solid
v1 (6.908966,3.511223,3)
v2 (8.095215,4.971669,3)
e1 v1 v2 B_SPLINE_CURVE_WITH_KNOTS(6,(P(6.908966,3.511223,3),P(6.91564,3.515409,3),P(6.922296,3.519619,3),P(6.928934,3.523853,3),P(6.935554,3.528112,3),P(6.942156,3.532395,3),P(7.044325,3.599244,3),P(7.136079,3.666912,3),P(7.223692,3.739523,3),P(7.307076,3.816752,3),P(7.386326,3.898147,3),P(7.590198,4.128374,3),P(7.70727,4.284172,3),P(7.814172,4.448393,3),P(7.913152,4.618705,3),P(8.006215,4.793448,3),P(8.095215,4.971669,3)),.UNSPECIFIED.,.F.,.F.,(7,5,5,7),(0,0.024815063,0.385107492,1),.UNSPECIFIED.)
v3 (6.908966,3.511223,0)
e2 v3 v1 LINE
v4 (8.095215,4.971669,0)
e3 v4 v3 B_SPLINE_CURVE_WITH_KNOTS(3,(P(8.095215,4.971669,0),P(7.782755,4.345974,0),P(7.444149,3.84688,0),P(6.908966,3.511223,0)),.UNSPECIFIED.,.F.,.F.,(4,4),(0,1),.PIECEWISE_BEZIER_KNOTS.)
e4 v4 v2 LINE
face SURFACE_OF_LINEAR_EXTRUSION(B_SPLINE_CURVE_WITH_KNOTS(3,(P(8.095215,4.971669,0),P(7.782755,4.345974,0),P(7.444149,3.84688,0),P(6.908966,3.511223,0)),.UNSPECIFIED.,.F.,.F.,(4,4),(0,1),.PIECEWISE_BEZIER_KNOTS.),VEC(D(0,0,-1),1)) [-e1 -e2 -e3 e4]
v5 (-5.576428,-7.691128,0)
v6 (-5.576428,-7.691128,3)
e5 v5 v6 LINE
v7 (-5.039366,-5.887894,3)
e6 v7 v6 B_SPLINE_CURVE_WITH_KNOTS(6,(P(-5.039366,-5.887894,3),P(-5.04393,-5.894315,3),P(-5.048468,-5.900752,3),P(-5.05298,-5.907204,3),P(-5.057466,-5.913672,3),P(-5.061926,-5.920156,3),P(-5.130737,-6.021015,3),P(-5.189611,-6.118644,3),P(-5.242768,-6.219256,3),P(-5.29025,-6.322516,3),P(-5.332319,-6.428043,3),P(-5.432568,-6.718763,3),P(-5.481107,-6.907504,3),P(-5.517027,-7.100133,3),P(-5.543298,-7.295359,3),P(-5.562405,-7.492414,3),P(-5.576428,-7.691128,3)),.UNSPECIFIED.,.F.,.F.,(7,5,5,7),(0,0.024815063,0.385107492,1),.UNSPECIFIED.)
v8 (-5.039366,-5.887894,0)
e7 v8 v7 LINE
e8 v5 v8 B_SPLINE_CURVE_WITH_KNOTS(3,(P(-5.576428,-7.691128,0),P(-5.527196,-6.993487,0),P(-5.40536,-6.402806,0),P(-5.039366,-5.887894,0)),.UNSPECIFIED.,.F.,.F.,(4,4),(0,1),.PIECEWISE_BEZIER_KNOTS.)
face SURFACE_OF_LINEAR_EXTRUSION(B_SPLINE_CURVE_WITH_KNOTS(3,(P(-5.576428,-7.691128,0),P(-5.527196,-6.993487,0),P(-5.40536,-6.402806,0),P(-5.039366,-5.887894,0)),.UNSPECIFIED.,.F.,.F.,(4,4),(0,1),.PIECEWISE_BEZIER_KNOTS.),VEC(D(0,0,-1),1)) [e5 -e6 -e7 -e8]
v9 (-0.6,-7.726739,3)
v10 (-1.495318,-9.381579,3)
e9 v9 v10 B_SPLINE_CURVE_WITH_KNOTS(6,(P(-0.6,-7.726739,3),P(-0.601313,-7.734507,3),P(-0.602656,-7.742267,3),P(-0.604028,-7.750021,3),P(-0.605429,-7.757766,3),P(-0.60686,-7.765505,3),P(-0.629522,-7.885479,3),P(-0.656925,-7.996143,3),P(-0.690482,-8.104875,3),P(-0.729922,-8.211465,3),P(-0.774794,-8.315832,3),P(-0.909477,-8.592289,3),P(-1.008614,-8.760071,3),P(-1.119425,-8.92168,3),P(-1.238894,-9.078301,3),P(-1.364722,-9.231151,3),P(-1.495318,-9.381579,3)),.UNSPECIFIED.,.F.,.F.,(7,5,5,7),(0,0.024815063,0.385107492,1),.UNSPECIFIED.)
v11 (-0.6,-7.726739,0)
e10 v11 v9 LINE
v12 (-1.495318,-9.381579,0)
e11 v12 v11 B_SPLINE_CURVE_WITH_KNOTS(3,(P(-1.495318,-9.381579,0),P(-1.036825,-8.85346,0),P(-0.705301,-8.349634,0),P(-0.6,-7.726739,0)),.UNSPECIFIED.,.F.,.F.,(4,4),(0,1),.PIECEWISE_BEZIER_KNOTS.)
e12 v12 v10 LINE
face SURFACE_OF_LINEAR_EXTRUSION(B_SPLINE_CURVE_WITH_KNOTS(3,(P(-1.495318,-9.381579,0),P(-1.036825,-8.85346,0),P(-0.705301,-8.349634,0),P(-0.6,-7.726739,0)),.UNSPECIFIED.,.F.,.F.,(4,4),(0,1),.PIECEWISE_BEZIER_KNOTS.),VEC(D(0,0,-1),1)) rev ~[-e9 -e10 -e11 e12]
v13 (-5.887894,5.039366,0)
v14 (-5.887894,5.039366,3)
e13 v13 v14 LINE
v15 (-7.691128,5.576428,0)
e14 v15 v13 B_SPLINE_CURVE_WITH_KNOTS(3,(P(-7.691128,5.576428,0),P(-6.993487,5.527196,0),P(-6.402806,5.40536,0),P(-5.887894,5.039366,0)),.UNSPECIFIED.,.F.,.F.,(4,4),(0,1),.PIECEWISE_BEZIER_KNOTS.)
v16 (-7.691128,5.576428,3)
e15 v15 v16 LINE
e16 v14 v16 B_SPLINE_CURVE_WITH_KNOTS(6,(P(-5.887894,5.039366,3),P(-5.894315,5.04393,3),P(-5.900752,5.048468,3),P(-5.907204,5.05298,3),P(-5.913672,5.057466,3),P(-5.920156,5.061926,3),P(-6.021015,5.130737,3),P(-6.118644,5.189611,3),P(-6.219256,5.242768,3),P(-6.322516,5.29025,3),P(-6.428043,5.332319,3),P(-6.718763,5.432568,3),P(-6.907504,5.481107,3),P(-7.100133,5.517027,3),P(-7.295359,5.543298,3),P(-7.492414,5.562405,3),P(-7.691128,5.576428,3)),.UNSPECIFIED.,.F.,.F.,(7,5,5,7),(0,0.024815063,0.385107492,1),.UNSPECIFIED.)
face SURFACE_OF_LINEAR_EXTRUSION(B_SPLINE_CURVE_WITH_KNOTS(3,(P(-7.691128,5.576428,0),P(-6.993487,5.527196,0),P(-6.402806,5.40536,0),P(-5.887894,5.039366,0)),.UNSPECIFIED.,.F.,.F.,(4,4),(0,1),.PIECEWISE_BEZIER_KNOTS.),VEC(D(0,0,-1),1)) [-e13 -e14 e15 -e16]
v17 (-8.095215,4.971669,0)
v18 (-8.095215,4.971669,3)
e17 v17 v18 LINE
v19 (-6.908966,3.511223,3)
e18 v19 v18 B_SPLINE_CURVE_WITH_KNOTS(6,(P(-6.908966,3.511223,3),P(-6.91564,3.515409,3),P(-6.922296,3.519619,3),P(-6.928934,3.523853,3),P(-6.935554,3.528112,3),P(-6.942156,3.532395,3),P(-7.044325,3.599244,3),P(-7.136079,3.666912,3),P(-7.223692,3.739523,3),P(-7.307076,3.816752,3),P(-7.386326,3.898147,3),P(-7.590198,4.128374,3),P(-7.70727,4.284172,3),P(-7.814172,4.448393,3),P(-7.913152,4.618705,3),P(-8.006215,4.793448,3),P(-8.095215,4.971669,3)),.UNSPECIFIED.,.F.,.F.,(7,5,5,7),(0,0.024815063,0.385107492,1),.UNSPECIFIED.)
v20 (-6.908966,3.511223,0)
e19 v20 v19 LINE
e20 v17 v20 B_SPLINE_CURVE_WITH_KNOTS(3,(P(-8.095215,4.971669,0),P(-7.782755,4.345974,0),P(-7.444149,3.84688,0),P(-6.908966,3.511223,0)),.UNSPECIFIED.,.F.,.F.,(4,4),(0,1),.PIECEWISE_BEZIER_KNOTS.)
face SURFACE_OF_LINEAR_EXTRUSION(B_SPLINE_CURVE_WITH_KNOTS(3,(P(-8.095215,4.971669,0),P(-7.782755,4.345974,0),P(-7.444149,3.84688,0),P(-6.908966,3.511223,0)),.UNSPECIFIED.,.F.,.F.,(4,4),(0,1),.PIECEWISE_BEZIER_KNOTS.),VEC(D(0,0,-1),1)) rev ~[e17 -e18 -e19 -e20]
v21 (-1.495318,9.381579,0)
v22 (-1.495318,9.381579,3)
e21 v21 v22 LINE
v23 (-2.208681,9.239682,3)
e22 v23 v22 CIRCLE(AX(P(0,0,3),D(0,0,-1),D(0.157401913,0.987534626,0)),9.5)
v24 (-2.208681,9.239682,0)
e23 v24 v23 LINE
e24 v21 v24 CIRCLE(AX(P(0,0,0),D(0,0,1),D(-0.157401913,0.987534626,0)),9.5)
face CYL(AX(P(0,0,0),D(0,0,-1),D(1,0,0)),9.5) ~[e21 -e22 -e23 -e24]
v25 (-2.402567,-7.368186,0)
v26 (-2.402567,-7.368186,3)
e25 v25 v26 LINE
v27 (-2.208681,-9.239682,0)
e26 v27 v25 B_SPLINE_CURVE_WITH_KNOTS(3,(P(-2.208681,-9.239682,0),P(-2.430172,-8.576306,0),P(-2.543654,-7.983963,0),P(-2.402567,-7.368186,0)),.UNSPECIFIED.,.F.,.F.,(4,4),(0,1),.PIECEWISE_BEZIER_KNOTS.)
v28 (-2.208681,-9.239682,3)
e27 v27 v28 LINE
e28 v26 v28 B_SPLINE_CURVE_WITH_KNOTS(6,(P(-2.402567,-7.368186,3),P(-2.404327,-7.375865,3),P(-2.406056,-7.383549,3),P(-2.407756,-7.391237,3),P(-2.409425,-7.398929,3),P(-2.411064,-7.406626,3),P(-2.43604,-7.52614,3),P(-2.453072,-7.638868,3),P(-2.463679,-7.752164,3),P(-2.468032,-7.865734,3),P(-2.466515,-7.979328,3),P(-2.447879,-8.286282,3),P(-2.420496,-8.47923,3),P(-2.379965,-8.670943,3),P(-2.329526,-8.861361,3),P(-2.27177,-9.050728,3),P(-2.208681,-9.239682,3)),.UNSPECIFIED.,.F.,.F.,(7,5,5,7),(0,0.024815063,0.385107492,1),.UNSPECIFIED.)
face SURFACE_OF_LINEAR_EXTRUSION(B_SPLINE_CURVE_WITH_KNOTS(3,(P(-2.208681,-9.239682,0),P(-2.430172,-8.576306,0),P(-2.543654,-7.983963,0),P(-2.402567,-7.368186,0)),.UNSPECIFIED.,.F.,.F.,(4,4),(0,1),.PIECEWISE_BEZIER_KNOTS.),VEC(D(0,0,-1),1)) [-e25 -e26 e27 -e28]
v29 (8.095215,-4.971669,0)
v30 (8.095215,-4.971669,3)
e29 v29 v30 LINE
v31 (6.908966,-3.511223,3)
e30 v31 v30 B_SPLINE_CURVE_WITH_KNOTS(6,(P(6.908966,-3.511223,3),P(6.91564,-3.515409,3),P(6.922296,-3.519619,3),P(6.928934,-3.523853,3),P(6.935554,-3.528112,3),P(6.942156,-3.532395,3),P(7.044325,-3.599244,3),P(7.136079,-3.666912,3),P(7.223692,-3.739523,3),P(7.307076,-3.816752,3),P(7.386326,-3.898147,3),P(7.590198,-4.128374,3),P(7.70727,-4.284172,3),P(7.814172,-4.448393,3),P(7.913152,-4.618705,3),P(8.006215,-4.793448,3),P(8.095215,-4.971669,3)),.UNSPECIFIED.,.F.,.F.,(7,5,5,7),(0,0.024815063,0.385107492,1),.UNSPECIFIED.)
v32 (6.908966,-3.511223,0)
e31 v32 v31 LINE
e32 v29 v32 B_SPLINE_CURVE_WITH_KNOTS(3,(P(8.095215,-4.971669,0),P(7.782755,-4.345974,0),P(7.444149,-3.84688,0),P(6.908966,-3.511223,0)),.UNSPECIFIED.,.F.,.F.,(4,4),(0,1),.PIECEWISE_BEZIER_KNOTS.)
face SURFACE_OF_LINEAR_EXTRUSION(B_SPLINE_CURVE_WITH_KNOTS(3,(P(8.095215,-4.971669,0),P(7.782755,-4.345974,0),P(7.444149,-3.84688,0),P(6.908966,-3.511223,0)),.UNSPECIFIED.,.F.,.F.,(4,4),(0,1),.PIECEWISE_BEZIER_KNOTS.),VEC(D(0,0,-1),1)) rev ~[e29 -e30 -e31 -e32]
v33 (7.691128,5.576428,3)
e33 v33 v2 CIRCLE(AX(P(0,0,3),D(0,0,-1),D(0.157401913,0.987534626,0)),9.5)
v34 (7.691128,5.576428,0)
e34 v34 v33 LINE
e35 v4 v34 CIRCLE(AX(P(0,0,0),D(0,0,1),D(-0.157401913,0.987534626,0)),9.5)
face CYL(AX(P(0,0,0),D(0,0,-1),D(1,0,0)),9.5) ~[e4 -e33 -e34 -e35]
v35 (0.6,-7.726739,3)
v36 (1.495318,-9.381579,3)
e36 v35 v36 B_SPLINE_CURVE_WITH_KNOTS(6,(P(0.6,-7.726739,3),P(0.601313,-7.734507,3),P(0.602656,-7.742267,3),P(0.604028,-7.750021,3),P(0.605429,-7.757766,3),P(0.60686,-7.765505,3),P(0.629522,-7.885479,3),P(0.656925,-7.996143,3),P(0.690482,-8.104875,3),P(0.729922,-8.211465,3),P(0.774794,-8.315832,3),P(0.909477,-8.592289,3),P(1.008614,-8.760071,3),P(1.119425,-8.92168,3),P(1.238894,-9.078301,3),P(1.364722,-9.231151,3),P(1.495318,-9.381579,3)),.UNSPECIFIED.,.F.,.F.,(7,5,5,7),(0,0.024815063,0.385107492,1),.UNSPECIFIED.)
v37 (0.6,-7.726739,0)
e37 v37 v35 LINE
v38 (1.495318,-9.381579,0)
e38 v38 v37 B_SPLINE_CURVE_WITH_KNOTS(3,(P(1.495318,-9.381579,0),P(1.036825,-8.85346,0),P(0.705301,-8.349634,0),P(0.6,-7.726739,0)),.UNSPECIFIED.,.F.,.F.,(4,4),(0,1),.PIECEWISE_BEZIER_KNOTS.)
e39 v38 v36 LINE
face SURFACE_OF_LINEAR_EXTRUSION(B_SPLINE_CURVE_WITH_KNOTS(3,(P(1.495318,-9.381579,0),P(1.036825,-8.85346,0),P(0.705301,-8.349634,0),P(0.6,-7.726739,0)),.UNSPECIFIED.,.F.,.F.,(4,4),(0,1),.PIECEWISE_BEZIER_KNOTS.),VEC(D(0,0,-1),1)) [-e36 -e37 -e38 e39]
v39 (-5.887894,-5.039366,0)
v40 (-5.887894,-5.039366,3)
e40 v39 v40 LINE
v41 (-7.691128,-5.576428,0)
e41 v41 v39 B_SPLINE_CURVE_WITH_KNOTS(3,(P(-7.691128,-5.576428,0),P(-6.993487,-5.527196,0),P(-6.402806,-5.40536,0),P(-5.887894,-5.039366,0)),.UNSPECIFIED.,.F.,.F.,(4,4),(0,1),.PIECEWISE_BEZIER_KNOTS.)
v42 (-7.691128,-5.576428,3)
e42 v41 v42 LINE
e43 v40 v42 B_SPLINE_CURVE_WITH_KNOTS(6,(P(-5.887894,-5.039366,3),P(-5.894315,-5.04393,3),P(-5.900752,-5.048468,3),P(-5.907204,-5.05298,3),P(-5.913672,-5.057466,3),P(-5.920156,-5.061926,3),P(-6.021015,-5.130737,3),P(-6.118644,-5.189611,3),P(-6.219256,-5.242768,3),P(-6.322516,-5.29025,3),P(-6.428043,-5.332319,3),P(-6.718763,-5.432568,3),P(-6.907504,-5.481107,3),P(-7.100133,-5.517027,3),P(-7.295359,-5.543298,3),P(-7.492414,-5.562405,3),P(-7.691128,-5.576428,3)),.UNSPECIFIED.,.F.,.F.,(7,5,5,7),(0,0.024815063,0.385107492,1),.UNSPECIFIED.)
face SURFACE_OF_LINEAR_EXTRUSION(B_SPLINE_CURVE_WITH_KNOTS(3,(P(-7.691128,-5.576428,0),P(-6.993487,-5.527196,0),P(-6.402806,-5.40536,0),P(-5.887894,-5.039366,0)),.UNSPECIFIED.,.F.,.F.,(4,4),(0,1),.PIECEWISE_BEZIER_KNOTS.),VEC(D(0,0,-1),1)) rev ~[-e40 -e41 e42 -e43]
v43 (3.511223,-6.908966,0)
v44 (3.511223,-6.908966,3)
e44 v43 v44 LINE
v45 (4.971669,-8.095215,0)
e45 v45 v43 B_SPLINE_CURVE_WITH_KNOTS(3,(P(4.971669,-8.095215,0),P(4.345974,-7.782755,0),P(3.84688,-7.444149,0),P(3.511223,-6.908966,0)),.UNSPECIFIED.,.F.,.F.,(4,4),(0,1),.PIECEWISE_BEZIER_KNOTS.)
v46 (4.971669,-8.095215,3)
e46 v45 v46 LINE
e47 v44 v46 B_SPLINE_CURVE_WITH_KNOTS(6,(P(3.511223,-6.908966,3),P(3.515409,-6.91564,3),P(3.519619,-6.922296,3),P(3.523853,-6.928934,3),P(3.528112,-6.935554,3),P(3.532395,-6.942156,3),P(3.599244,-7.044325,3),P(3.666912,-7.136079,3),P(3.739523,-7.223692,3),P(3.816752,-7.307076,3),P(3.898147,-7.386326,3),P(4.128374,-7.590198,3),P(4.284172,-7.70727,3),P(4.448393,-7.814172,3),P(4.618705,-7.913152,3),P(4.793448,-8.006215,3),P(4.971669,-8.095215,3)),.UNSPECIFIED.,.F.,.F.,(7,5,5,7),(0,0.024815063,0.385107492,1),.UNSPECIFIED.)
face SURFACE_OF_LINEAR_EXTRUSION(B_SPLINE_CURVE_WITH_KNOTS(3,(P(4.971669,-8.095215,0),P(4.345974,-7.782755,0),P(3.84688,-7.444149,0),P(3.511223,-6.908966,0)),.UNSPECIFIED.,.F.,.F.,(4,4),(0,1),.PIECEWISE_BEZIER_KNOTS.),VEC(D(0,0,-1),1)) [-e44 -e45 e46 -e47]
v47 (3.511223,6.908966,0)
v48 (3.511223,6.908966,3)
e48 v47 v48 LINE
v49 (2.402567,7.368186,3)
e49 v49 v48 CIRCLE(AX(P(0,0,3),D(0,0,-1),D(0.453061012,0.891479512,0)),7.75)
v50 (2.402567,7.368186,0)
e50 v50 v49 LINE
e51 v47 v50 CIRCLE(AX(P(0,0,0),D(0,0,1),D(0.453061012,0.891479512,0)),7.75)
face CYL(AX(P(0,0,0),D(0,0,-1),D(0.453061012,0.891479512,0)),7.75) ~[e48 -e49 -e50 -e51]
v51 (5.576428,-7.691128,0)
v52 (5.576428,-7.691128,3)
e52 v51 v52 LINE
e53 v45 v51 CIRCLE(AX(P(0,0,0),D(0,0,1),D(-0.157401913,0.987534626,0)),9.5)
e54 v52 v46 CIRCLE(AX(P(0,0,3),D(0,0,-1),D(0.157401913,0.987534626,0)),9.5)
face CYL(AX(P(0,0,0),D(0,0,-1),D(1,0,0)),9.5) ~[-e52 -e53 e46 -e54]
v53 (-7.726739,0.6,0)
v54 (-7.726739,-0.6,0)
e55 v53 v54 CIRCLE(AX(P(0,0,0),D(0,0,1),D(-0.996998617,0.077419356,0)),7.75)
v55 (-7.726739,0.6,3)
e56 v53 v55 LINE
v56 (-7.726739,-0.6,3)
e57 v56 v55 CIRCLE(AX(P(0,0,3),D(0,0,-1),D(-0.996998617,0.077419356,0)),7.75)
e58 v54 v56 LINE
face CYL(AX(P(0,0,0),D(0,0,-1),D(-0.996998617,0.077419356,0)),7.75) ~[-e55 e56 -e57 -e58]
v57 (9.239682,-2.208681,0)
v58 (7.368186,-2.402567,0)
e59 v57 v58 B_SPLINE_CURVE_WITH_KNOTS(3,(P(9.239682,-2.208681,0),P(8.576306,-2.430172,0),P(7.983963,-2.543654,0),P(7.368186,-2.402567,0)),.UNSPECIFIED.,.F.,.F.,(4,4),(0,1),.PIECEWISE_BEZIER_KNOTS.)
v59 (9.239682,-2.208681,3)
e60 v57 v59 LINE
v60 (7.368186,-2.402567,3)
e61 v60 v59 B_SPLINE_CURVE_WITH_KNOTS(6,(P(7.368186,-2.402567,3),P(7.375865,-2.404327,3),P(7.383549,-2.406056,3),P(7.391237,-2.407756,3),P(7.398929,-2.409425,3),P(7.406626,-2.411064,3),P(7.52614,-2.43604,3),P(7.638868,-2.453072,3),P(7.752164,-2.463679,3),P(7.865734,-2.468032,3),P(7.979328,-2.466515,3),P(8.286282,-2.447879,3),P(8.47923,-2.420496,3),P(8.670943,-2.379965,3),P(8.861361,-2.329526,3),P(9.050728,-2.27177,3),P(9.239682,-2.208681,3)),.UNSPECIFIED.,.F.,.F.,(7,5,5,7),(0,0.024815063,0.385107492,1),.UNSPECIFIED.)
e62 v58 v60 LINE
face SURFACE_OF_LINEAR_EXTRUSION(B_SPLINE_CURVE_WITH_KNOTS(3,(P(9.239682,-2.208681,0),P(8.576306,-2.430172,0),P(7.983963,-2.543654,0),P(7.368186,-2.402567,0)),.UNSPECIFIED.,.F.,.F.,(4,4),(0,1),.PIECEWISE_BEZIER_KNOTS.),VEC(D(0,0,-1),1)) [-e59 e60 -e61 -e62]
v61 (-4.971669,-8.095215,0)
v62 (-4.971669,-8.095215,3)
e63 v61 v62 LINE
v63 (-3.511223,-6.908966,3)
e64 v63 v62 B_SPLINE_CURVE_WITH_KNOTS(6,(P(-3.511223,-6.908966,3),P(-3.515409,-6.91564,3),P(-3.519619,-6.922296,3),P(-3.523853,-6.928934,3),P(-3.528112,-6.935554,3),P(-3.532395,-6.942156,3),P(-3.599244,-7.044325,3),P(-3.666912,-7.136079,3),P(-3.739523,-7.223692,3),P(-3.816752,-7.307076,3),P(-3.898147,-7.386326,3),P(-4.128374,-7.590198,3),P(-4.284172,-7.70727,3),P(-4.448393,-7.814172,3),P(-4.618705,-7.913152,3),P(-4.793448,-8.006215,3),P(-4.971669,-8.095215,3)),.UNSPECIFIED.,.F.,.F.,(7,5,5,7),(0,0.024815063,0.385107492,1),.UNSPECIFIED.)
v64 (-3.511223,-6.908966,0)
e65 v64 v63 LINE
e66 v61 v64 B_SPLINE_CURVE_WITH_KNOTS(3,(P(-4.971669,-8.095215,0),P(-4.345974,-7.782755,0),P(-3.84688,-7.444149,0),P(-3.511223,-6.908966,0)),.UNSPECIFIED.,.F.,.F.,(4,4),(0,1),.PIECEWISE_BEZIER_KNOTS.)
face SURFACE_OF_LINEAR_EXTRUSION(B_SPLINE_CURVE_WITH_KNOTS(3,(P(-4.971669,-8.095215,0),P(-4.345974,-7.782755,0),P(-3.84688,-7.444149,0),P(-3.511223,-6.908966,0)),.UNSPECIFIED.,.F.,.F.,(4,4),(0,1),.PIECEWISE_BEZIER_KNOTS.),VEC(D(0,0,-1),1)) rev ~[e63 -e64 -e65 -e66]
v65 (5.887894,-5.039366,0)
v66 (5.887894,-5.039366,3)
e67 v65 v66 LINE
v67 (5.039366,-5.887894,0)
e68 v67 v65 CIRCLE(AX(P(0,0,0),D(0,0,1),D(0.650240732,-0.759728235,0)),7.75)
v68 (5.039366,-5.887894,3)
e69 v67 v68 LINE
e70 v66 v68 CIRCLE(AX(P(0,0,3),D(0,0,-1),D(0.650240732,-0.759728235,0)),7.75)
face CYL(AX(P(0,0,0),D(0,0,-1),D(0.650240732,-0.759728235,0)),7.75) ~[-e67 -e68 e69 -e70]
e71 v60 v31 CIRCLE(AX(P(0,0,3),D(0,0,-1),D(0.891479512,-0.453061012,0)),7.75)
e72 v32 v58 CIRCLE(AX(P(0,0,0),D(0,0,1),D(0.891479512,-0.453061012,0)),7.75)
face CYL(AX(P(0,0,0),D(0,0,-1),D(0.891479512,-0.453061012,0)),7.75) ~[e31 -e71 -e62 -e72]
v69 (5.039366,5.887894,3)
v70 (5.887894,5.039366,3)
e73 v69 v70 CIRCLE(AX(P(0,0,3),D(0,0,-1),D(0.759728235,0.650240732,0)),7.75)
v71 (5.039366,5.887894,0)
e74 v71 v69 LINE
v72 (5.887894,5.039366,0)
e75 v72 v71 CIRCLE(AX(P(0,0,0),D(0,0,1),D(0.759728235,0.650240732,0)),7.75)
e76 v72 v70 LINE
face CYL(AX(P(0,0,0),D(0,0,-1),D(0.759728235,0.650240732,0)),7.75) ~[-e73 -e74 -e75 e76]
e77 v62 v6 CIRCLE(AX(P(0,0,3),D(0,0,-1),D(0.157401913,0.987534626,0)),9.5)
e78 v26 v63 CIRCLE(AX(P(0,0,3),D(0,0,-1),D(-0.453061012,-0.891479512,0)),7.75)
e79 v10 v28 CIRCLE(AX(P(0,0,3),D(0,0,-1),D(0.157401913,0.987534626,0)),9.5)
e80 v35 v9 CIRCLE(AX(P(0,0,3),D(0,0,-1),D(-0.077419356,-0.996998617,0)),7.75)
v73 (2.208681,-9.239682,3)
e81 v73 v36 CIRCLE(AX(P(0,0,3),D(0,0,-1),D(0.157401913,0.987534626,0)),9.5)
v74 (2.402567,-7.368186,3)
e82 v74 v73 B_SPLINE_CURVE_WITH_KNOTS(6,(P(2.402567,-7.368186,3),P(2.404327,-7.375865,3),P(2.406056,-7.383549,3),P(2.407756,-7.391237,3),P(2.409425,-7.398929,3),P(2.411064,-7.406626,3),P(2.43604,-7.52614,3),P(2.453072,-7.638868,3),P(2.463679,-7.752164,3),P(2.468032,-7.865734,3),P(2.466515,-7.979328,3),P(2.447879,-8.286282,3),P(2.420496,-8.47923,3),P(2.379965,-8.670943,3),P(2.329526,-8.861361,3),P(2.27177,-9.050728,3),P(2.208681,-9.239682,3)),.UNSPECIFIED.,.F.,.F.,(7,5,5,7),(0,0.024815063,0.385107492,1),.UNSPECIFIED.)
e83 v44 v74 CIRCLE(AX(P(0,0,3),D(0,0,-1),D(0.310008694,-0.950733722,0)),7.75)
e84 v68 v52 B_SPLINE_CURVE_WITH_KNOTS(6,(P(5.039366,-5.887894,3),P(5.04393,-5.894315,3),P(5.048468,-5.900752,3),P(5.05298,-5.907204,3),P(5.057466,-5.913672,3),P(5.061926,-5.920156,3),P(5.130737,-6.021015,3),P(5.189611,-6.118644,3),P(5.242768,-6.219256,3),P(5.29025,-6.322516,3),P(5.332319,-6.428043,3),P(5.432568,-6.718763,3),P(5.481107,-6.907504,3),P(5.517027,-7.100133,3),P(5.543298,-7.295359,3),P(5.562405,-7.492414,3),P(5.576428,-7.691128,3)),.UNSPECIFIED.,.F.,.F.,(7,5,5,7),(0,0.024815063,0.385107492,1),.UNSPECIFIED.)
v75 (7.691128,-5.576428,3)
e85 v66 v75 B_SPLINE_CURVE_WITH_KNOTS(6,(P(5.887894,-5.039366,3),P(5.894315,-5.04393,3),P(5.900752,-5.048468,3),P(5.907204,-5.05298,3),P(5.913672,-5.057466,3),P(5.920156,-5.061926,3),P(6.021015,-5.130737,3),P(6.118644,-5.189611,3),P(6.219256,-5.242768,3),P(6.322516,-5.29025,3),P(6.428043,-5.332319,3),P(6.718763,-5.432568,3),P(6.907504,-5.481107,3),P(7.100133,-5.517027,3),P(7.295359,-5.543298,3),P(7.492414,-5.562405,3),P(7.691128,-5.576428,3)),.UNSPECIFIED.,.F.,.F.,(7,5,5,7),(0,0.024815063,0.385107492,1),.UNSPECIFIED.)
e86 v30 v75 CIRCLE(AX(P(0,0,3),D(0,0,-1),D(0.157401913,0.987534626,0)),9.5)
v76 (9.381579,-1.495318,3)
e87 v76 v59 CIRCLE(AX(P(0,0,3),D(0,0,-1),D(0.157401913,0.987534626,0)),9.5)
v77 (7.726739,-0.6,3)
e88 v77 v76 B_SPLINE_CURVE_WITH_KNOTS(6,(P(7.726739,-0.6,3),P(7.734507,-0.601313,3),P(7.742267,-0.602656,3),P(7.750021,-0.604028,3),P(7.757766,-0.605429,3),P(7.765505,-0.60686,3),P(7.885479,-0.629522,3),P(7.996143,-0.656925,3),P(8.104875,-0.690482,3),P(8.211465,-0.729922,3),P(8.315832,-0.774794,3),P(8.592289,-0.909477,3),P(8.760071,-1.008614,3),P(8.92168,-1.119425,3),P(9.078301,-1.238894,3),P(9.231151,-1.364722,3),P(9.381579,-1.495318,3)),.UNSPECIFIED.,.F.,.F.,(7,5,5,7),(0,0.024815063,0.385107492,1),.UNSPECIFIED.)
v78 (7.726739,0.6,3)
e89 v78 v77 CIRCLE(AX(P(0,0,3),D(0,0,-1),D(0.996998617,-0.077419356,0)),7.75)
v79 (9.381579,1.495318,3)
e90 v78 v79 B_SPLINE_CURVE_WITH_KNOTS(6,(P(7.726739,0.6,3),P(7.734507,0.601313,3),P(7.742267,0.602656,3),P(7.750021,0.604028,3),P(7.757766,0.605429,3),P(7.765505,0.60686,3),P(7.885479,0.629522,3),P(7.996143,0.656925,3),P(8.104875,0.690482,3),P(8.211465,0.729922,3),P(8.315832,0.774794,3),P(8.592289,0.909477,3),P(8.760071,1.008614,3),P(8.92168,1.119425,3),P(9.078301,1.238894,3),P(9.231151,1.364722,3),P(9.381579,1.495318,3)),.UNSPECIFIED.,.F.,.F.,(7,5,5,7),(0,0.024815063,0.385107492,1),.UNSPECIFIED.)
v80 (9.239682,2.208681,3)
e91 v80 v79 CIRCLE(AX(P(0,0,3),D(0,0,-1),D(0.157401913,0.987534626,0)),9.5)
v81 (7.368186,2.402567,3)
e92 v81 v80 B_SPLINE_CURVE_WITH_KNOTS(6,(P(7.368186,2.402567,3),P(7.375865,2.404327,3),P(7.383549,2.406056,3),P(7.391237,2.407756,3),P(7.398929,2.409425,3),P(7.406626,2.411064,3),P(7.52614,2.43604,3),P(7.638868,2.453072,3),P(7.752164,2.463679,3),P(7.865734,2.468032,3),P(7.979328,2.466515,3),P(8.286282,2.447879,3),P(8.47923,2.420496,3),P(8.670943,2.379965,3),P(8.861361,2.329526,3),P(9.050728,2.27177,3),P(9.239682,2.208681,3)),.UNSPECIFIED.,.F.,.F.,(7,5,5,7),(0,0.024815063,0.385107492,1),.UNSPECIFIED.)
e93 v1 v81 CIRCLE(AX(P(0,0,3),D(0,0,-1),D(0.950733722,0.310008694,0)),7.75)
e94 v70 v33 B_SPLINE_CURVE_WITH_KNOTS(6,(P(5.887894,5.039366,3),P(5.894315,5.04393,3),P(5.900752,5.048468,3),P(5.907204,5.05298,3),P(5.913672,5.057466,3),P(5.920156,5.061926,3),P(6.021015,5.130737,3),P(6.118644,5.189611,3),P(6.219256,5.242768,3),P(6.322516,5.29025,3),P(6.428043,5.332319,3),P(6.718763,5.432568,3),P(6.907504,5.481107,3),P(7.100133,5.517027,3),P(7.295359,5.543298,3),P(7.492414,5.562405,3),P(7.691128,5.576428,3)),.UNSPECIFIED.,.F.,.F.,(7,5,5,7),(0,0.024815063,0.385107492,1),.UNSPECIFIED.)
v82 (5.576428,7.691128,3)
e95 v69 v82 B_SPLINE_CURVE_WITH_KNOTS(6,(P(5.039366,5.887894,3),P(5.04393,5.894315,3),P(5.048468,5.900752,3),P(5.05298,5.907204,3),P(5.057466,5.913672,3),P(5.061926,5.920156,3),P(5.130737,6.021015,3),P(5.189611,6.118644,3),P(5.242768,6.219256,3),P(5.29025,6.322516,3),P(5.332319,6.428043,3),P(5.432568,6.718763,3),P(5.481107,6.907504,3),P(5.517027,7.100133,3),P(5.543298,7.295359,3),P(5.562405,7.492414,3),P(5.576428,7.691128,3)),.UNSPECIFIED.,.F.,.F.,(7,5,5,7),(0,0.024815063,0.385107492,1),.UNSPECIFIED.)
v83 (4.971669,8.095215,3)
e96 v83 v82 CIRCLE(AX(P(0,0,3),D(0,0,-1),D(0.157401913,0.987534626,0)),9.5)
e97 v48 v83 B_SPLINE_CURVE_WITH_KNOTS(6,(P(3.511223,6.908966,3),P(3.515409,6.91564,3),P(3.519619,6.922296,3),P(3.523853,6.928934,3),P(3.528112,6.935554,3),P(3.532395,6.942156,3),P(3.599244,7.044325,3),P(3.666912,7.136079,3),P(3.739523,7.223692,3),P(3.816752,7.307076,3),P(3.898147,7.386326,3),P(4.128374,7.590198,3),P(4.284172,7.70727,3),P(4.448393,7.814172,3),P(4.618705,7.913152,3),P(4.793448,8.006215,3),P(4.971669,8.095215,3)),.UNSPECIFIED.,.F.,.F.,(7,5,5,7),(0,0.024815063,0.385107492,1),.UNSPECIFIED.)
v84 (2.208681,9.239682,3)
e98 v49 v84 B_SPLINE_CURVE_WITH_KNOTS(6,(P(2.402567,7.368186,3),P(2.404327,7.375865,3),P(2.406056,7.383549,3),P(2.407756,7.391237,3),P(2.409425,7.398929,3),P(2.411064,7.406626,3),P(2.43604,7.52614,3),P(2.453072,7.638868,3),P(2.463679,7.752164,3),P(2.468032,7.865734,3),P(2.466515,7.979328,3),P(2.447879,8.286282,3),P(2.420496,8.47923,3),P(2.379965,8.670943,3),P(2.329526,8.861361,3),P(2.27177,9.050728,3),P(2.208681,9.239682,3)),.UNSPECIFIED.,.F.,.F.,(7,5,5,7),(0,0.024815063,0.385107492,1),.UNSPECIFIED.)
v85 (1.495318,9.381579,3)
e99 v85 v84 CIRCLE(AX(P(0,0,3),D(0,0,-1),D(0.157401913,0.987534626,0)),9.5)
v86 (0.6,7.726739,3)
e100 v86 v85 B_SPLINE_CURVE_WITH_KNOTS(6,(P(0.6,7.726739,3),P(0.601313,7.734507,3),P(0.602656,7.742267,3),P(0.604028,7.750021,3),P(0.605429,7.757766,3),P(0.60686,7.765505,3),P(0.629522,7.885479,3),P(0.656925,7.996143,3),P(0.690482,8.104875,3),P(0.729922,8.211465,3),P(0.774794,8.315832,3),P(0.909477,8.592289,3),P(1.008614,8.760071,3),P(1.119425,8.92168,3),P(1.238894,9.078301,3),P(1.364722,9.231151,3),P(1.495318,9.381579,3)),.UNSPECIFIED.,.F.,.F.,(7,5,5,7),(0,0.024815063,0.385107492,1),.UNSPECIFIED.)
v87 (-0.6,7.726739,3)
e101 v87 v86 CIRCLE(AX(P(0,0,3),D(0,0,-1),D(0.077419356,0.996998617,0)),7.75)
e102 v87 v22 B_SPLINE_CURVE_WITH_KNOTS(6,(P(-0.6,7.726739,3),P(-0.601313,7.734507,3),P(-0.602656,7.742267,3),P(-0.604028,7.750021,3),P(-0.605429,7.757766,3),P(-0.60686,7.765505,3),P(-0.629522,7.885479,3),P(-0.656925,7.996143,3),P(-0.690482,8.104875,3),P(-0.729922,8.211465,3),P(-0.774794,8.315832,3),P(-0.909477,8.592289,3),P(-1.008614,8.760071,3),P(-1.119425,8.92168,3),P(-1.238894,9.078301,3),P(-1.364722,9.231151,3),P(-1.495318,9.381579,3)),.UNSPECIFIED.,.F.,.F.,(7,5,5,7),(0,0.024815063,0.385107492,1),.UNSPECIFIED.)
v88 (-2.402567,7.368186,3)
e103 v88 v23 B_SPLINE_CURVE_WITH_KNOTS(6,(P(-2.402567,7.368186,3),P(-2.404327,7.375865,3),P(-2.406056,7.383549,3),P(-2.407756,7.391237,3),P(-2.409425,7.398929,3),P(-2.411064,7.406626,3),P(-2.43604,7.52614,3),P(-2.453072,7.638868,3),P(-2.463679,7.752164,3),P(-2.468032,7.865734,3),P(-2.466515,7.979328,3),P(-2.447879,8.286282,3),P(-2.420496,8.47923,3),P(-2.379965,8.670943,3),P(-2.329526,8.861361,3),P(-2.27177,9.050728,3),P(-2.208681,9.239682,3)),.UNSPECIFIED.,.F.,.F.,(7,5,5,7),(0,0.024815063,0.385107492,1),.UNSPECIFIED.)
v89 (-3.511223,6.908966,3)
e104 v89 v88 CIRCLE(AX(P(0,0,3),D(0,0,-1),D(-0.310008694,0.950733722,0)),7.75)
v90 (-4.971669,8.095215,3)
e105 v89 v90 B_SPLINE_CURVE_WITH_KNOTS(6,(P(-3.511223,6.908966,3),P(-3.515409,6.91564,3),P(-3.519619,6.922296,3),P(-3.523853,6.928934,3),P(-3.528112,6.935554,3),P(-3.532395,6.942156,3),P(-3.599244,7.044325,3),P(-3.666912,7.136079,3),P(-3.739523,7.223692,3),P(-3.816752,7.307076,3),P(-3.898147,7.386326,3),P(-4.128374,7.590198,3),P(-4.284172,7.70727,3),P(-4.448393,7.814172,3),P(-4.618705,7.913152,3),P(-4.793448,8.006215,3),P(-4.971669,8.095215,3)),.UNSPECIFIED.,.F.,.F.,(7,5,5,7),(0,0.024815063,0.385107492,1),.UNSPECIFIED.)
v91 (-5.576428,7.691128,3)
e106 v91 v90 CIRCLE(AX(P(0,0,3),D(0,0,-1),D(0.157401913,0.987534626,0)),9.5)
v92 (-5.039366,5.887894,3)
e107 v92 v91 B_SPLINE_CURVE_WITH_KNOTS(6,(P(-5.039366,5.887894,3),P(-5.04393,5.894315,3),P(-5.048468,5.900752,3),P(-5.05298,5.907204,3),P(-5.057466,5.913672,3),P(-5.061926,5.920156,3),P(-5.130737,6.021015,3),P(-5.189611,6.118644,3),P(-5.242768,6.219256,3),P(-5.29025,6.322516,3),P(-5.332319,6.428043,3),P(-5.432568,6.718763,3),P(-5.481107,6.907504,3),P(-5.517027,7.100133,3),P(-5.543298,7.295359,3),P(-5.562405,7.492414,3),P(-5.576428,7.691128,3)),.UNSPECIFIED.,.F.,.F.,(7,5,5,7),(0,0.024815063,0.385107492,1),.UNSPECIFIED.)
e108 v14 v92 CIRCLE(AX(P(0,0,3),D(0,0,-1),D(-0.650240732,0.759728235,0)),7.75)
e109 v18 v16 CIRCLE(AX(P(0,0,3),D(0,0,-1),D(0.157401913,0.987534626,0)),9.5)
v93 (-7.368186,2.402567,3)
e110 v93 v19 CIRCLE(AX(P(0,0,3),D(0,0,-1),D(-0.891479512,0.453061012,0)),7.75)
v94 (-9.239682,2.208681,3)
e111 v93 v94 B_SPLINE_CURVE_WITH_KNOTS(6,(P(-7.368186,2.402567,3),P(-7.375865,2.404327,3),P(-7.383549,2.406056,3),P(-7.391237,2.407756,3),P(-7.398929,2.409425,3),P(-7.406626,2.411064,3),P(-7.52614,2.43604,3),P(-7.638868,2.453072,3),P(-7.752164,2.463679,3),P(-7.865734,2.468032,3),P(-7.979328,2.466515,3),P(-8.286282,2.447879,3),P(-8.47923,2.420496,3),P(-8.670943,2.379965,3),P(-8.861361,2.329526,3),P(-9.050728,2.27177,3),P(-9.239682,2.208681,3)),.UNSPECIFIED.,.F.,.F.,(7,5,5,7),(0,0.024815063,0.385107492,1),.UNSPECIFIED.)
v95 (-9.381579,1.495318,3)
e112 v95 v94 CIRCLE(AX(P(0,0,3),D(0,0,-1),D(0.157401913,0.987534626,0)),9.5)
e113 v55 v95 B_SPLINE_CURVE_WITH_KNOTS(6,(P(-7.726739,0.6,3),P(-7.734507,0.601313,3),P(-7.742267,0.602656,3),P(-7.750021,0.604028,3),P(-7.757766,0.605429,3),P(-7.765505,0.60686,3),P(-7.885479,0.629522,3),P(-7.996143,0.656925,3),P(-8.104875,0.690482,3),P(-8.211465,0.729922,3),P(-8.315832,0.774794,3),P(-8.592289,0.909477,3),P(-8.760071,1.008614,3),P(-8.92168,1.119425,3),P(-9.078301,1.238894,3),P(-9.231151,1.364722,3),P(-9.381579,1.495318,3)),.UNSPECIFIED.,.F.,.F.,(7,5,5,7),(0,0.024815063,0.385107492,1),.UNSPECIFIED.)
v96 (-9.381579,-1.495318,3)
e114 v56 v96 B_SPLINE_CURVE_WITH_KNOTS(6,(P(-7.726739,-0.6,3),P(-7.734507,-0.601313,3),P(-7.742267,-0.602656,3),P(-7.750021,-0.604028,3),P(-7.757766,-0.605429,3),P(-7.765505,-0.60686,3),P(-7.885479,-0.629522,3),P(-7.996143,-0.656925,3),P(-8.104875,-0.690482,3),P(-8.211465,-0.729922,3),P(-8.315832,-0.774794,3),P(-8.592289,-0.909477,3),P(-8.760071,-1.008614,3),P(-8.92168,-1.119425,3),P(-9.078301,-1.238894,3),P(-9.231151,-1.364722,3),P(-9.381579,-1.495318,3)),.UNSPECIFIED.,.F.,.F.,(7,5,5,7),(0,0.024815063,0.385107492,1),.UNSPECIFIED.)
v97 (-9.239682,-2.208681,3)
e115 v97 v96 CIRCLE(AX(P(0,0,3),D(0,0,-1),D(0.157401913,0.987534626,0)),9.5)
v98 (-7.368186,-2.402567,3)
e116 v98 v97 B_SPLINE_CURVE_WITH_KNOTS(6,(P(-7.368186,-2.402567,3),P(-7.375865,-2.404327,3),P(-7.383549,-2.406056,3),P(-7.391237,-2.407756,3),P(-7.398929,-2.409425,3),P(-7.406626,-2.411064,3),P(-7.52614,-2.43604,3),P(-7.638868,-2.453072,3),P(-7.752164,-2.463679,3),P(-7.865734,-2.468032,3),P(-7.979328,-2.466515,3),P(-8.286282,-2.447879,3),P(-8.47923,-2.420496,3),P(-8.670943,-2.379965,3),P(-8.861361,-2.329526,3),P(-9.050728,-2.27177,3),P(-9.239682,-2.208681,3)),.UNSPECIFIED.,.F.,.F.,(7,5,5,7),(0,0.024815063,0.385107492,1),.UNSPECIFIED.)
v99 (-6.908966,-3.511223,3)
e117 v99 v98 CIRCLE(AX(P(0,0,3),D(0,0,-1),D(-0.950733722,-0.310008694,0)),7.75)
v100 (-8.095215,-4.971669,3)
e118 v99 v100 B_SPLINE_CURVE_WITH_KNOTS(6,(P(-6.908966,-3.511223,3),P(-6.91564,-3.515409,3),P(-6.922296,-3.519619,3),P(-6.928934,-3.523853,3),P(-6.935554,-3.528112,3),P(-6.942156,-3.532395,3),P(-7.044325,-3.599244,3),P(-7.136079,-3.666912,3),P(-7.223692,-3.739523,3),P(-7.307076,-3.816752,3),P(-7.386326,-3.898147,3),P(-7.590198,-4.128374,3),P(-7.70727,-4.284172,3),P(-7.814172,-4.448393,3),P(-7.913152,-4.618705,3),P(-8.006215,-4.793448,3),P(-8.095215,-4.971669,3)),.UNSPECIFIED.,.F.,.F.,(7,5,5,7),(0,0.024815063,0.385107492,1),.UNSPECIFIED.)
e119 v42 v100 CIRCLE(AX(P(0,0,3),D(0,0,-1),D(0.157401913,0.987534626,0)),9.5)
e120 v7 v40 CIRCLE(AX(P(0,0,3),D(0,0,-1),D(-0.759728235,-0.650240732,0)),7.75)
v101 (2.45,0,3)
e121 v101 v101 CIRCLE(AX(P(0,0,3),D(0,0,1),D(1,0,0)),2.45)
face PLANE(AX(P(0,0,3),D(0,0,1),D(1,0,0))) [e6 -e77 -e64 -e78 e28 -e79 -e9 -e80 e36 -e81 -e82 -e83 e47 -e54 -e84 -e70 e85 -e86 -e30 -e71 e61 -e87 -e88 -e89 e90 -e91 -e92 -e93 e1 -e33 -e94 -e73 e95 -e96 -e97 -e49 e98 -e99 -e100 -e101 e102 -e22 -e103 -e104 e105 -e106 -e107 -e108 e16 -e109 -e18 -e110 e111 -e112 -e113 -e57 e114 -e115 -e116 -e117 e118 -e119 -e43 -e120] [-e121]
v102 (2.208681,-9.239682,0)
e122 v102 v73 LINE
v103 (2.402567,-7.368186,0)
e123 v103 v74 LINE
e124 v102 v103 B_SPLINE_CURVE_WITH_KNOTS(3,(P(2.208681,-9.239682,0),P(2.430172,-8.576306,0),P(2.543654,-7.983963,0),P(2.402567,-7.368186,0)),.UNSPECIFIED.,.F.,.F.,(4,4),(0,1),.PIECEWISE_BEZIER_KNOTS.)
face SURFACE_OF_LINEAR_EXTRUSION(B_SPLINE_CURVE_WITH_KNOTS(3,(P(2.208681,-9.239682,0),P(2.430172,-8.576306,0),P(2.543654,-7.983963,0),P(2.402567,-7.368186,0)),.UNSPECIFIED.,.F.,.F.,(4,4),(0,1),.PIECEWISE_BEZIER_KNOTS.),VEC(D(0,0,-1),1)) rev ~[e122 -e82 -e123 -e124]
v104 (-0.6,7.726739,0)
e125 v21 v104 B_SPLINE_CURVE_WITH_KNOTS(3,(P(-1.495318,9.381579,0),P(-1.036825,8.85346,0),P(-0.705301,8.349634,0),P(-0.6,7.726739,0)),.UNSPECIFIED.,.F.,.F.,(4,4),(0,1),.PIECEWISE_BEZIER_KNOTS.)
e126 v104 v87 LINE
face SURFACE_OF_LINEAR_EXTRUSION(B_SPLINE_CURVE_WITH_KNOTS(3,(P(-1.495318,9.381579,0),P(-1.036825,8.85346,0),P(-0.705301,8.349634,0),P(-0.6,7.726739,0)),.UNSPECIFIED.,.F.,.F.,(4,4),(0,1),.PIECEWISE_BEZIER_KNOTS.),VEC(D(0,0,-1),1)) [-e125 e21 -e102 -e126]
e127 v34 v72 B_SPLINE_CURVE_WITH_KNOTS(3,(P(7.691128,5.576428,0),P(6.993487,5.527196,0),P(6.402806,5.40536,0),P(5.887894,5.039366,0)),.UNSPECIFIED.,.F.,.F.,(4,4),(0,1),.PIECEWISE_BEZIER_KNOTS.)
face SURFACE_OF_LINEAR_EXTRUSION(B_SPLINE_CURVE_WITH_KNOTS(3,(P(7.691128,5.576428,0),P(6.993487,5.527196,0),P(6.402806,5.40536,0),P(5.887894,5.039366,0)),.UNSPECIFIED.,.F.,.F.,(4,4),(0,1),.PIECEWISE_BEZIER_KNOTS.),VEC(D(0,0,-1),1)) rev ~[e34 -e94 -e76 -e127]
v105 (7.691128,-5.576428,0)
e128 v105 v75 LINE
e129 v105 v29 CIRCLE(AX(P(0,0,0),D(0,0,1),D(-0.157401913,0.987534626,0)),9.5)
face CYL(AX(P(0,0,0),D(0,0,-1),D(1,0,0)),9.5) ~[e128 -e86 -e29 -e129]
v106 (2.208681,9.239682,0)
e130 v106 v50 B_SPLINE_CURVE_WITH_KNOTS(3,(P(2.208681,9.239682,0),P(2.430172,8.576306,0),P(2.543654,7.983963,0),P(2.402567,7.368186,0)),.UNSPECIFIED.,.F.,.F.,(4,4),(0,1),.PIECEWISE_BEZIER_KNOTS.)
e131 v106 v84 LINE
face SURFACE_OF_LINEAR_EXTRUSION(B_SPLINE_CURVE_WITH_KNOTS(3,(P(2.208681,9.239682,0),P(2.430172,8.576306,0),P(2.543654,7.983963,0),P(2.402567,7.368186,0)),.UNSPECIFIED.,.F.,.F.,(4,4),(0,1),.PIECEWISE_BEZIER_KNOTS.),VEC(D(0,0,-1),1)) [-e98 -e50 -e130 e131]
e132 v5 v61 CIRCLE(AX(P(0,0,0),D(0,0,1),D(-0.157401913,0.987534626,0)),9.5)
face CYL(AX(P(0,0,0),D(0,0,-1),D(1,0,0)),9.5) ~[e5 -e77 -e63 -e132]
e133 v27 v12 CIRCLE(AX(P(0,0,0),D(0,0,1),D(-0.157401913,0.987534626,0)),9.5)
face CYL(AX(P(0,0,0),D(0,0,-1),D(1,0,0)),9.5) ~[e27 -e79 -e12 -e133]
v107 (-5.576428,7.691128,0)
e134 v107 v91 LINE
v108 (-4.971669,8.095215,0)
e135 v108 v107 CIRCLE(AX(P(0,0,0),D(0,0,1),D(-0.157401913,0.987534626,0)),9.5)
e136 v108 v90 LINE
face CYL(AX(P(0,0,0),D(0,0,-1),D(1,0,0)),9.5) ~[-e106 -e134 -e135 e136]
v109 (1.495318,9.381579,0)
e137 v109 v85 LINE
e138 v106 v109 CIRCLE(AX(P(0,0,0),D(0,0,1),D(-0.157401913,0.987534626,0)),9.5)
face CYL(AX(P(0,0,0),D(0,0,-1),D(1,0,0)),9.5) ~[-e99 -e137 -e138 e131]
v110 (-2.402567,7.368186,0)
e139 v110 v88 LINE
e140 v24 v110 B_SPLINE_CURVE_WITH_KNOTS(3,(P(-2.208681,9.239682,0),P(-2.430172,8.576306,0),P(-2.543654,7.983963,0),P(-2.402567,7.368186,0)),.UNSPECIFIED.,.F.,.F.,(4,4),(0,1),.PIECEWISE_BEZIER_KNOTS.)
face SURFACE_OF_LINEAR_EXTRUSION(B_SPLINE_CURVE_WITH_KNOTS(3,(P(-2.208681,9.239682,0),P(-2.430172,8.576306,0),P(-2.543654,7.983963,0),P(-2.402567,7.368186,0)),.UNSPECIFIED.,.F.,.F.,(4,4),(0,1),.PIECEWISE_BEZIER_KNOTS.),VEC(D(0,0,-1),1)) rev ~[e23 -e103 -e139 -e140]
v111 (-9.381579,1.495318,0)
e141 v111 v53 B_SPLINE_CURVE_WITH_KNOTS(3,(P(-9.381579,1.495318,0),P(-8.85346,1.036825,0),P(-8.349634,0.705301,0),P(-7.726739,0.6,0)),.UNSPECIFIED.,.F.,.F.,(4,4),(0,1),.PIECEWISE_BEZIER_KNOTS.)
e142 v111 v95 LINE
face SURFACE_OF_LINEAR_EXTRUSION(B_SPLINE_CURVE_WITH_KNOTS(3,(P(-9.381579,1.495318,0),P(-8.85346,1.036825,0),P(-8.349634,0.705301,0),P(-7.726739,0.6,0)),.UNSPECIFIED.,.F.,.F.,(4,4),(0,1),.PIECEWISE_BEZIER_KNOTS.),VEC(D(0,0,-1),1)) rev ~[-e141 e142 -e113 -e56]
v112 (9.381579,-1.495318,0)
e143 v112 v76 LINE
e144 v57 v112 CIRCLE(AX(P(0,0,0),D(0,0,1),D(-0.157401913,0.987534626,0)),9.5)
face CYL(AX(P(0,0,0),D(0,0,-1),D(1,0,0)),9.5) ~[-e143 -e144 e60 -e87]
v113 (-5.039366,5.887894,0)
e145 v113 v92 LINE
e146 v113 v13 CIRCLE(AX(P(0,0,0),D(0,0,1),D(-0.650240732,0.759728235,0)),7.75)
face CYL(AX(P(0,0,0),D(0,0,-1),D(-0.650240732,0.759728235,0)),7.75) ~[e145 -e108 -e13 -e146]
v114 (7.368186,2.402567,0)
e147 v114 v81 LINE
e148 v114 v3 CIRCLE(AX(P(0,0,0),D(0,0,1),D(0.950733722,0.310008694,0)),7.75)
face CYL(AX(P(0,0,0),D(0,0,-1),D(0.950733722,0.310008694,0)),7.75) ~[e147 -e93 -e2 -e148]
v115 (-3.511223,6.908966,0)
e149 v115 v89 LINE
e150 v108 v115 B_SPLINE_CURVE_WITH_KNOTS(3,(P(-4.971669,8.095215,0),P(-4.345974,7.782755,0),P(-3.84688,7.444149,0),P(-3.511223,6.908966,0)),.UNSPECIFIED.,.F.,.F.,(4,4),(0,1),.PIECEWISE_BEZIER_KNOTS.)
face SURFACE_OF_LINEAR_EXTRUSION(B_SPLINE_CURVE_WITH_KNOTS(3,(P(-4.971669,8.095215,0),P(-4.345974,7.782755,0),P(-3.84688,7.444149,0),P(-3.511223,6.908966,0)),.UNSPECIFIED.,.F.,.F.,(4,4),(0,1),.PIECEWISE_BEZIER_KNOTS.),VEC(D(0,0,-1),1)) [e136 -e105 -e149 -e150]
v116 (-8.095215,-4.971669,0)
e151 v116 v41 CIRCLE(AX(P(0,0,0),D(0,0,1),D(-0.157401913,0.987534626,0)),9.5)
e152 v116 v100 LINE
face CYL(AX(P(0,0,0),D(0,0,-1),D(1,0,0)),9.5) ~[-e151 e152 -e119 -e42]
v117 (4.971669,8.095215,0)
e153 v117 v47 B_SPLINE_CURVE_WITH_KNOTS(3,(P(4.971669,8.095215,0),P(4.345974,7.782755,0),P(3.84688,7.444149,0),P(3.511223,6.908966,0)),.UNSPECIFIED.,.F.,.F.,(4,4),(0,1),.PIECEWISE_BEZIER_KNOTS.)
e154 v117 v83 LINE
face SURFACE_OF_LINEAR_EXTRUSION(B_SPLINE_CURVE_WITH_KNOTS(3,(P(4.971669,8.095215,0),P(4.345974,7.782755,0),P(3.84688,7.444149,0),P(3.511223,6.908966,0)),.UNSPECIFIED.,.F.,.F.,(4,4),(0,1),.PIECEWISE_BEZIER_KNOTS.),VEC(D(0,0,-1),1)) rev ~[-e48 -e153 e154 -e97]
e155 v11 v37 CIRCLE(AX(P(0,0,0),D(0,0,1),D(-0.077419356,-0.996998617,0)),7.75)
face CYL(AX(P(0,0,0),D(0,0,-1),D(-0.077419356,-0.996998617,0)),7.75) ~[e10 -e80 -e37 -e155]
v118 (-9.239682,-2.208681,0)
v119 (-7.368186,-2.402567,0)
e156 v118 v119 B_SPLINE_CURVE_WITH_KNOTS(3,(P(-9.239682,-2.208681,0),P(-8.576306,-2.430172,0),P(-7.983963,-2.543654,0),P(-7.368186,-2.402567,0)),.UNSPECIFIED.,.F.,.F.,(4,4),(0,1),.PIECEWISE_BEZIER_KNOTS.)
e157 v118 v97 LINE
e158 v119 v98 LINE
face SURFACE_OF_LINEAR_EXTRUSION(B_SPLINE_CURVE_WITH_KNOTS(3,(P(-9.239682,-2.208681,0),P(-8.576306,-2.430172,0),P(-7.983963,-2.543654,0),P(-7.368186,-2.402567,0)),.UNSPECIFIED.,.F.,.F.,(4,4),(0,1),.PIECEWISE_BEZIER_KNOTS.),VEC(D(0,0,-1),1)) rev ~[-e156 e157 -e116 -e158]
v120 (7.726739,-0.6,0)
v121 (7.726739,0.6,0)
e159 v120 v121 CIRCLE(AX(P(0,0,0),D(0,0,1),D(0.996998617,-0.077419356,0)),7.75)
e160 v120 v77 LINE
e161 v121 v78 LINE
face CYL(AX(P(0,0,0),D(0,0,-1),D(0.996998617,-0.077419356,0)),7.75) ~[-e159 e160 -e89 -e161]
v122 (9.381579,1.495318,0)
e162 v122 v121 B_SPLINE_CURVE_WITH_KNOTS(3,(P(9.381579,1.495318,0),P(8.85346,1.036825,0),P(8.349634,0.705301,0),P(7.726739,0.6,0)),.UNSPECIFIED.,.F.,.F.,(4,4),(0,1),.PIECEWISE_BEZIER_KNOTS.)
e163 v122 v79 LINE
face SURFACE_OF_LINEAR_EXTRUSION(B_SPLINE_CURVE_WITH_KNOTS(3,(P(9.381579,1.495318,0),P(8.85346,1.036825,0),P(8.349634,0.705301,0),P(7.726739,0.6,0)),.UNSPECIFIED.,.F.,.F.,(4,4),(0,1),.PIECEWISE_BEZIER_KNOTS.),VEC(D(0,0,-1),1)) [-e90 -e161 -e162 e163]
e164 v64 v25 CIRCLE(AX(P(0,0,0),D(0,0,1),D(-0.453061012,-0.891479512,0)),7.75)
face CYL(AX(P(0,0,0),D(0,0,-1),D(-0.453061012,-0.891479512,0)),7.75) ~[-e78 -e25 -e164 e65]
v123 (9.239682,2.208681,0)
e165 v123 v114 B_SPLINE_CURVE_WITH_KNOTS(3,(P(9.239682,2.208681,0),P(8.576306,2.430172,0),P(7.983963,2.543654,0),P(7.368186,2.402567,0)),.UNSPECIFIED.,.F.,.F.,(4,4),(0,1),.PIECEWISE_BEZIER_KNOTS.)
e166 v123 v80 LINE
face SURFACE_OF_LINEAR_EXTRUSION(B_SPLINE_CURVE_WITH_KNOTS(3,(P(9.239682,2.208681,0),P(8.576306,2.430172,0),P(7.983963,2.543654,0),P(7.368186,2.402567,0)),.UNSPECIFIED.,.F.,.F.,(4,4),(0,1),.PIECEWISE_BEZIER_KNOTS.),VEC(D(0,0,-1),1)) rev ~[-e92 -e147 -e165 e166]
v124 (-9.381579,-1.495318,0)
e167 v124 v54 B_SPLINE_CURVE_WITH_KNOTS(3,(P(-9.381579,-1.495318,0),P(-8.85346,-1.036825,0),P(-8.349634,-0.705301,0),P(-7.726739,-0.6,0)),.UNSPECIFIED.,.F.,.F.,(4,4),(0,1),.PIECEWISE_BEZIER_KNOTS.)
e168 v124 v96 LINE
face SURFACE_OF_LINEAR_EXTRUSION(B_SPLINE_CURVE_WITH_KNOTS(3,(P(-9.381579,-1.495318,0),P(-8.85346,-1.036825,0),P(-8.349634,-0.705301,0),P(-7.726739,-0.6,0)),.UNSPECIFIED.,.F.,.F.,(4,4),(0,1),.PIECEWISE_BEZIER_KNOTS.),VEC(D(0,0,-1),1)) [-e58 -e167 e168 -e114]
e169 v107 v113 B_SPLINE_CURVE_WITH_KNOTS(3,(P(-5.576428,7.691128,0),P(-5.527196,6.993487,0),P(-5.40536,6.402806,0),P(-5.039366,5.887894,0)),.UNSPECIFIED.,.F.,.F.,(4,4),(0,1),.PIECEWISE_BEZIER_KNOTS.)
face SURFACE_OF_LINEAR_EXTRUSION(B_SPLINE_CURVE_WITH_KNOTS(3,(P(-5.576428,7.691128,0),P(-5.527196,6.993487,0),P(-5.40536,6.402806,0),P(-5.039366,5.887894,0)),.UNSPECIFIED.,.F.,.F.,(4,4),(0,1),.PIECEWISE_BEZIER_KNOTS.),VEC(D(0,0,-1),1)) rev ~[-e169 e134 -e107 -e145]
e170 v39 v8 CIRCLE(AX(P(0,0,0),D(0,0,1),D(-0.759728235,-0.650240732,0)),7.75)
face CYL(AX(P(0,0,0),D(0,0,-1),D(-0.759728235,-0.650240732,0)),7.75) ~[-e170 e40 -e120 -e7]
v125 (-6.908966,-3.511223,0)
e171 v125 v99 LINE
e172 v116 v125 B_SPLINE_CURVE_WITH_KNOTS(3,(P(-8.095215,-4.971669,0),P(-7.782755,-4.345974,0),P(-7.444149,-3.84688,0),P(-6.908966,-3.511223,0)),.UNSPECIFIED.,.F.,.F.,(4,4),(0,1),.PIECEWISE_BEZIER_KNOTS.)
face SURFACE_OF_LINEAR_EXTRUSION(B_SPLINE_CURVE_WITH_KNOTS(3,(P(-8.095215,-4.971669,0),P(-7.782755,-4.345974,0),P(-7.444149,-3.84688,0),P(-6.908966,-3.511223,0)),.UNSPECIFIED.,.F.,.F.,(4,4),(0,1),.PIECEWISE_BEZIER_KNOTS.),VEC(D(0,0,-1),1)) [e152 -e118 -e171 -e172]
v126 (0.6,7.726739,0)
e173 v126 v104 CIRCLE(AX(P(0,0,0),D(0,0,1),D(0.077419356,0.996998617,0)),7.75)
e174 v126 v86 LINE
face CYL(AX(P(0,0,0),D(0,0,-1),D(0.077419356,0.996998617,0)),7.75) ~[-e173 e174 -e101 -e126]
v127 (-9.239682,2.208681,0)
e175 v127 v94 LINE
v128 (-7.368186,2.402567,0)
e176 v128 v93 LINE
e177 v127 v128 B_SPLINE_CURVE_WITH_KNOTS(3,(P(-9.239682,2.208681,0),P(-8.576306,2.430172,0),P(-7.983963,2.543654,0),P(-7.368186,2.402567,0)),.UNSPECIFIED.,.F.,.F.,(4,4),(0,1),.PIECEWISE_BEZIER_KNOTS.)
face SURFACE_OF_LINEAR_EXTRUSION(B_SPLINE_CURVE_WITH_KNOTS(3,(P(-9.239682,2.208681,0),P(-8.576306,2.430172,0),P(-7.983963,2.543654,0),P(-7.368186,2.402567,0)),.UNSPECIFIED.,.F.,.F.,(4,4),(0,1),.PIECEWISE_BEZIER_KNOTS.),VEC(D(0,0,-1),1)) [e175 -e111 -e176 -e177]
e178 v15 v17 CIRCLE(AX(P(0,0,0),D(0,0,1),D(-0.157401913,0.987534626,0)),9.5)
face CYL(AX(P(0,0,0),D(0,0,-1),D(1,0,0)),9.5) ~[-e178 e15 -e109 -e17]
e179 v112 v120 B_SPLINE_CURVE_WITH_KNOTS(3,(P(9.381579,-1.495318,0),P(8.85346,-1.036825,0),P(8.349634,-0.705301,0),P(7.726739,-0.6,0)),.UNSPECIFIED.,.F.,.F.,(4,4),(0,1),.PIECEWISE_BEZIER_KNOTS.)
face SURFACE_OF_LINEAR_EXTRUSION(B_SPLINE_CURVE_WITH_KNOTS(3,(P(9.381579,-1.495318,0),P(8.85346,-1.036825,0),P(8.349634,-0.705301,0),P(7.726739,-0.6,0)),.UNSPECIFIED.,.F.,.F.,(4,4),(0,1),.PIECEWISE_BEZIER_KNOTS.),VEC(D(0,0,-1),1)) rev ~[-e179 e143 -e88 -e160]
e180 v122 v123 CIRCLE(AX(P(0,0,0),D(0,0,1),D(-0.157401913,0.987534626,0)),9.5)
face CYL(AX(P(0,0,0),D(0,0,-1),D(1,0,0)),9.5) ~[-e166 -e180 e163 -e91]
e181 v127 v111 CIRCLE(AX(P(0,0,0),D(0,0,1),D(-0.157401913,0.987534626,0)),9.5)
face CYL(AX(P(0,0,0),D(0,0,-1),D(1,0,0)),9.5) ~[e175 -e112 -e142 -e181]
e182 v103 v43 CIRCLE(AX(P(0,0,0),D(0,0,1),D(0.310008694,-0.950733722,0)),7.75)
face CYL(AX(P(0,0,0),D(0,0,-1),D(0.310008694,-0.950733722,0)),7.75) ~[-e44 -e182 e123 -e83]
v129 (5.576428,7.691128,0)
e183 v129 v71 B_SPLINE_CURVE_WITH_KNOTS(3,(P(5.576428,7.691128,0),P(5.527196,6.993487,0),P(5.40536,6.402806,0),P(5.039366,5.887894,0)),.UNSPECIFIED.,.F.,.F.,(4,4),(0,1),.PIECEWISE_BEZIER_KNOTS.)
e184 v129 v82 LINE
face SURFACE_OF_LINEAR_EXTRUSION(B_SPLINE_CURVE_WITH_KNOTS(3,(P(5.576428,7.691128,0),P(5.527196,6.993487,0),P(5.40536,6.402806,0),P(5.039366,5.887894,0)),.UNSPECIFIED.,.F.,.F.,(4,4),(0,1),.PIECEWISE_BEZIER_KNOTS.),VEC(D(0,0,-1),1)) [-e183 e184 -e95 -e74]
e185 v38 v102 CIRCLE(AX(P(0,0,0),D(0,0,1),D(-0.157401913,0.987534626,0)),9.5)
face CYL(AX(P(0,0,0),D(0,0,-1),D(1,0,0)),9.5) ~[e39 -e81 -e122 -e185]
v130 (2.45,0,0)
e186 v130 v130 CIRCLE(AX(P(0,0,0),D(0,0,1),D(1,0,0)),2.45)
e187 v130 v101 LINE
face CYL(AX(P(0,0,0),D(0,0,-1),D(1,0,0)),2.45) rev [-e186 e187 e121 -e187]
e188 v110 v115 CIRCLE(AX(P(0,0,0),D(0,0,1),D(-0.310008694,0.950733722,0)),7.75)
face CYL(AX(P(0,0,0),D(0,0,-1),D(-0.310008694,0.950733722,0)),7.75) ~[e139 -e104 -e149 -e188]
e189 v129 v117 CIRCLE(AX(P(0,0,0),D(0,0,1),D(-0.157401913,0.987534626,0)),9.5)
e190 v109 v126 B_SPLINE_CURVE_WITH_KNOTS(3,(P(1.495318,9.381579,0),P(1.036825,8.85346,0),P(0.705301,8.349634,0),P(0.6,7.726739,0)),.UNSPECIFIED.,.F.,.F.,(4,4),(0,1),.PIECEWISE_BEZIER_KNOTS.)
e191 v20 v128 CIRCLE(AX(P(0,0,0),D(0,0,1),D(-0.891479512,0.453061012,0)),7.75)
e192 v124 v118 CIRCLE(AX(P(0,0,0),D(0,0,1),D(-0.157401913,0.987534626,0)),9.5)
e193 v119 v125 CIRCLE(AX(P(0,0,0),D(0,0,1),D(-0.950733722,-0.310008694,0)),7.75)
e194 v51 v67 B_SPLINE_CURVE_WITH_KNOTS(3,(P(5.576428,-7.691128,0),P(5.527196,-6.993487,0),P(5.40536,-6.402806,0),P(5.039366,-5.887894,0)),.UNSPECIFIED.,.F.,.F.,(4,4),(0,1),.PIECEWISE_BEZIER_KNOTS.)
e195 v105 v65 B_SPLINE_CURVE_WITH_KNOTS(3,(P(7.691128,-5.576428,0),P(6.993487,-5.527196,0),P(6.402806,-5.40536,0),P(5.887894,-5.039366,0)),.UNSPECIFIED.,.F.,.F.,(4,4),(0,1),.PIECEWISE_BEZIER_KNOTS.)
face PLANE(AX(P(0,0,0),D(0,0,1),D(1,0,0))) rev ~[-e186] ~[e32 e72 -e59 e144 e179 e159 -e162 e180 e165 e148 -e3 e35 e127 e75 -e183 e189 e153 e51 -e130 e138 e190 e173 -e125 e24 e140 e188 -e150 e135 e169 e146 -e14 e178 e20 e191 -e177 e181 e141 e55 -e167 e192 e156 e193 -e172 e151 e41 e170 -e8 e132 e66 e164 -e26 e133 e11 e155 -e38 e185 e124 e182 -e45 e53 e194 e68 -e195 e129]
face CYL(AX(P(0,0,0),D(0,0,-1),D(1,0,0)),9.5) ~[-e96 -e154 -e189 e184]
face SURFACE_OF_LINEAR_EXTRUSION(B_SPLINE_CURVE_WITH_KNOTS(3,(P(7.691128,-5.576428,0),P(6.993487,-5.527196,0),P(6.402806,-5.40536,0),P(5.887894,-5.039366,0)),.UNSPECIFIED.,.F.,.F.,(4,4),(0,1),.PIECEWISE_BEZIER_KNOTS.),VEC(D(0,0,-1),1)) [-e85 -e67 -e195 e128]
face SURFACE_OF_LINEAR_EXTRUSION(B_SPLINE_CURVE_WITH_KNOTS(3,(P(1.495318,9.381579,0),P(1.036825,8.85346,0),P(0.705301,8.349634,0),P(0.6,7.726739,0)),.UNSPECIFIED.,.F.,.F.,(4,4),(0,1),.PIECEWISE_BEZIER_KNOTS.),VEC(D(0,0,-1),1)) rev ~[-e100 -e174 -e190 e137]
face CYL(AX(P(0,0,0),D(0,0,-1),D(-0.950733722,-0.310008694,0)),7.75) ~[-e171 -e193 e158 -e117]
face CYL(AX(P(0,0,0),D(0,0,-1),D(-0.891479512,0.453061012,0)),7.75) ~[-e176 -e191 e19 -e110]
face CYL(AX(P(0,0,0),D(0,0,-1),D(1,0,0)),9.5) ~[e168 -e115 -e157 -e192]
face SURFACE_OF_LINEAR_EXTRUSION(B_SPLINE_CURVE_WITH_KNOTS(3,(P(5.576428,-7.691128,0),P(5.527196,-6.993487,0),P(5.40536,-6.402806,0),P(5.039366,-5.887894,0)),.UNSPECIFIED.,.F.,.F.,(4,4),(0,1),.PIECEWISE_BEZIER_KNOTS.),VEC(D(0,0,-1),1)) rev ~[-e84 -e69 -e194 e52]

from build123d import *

# Parameters (mm, degrees)
SKETCH1_R           = 9.5
SKETCH1_R_2         = 2.45
BOSS_EXTRUDE1_DEPTH = 3
CUT_EXTRUDE1_DEPTH  = 10
CIRPATTERN1_COUNT   = 16


with BuildPart() as part:
    # Sketch1 → Boss-Extrude1 (new body)
    with BuildSketch(Plane.XY):
        Circle(SKETCH1_R)
        Circle(SKETCH1_R_2, mode=Mode.SUBTRACT)
    extrude(amount=BOSS_EXTRUDE1_DEPTH)

    # Sketch6 → Cut-Extrude1 (cut)
    with BuildSketch(Plane(origin=(0, 0, 0), x_dir=(-1, 0, 0), z_dir=(0, 0, -1))):
        with BuildLine():
            ThreePointArc((-0.6, 7.726739286), (0, 7.75), (0.6, 7.726739286))
            add(Edge.make_bspline(
                [(1.495318178, 9.381578947), (1.036824569, 8.853460115), (0.705300974, 8.349634332), (0.6, 7.726739286)],
                knots=[0, 0, 0, 0, 1, 1, 1, 1], degree=3))
            ThreePointArc((1.495318178, 9.381578947), (0, 9.5), (-1.495318178, 9.381578947))
            add(Edge.make_bspline(
                [(-1.495318178, 9.381578947), (-1.036824569, 8.853460115), (-0.705300974, 8.349634332), (-0.6, 7.726739286)],
                knots=[0, 0, 0, 0, 1, 1, 1, 1], degree=3))
        make_face()
    cut_extrude1 = extrude(amount=-CUT_EXTRUDE1_DEPTH, mode=Mode.SUBTRACT)

    # CirPattern1: Cut-Extrude1 ×16 about axis
    cirpattern1_axis = Axis((0, 0, 0), (0, 0, 1))
    for i in range(1, CIRPATTERN1_COUNT):
        add(cut_extrude1.rotate(cirpattern1_axis, i * 360 / CIRPATTERN1_COUNT), mode=Mode.SUBTRACT)


solid = part.part
